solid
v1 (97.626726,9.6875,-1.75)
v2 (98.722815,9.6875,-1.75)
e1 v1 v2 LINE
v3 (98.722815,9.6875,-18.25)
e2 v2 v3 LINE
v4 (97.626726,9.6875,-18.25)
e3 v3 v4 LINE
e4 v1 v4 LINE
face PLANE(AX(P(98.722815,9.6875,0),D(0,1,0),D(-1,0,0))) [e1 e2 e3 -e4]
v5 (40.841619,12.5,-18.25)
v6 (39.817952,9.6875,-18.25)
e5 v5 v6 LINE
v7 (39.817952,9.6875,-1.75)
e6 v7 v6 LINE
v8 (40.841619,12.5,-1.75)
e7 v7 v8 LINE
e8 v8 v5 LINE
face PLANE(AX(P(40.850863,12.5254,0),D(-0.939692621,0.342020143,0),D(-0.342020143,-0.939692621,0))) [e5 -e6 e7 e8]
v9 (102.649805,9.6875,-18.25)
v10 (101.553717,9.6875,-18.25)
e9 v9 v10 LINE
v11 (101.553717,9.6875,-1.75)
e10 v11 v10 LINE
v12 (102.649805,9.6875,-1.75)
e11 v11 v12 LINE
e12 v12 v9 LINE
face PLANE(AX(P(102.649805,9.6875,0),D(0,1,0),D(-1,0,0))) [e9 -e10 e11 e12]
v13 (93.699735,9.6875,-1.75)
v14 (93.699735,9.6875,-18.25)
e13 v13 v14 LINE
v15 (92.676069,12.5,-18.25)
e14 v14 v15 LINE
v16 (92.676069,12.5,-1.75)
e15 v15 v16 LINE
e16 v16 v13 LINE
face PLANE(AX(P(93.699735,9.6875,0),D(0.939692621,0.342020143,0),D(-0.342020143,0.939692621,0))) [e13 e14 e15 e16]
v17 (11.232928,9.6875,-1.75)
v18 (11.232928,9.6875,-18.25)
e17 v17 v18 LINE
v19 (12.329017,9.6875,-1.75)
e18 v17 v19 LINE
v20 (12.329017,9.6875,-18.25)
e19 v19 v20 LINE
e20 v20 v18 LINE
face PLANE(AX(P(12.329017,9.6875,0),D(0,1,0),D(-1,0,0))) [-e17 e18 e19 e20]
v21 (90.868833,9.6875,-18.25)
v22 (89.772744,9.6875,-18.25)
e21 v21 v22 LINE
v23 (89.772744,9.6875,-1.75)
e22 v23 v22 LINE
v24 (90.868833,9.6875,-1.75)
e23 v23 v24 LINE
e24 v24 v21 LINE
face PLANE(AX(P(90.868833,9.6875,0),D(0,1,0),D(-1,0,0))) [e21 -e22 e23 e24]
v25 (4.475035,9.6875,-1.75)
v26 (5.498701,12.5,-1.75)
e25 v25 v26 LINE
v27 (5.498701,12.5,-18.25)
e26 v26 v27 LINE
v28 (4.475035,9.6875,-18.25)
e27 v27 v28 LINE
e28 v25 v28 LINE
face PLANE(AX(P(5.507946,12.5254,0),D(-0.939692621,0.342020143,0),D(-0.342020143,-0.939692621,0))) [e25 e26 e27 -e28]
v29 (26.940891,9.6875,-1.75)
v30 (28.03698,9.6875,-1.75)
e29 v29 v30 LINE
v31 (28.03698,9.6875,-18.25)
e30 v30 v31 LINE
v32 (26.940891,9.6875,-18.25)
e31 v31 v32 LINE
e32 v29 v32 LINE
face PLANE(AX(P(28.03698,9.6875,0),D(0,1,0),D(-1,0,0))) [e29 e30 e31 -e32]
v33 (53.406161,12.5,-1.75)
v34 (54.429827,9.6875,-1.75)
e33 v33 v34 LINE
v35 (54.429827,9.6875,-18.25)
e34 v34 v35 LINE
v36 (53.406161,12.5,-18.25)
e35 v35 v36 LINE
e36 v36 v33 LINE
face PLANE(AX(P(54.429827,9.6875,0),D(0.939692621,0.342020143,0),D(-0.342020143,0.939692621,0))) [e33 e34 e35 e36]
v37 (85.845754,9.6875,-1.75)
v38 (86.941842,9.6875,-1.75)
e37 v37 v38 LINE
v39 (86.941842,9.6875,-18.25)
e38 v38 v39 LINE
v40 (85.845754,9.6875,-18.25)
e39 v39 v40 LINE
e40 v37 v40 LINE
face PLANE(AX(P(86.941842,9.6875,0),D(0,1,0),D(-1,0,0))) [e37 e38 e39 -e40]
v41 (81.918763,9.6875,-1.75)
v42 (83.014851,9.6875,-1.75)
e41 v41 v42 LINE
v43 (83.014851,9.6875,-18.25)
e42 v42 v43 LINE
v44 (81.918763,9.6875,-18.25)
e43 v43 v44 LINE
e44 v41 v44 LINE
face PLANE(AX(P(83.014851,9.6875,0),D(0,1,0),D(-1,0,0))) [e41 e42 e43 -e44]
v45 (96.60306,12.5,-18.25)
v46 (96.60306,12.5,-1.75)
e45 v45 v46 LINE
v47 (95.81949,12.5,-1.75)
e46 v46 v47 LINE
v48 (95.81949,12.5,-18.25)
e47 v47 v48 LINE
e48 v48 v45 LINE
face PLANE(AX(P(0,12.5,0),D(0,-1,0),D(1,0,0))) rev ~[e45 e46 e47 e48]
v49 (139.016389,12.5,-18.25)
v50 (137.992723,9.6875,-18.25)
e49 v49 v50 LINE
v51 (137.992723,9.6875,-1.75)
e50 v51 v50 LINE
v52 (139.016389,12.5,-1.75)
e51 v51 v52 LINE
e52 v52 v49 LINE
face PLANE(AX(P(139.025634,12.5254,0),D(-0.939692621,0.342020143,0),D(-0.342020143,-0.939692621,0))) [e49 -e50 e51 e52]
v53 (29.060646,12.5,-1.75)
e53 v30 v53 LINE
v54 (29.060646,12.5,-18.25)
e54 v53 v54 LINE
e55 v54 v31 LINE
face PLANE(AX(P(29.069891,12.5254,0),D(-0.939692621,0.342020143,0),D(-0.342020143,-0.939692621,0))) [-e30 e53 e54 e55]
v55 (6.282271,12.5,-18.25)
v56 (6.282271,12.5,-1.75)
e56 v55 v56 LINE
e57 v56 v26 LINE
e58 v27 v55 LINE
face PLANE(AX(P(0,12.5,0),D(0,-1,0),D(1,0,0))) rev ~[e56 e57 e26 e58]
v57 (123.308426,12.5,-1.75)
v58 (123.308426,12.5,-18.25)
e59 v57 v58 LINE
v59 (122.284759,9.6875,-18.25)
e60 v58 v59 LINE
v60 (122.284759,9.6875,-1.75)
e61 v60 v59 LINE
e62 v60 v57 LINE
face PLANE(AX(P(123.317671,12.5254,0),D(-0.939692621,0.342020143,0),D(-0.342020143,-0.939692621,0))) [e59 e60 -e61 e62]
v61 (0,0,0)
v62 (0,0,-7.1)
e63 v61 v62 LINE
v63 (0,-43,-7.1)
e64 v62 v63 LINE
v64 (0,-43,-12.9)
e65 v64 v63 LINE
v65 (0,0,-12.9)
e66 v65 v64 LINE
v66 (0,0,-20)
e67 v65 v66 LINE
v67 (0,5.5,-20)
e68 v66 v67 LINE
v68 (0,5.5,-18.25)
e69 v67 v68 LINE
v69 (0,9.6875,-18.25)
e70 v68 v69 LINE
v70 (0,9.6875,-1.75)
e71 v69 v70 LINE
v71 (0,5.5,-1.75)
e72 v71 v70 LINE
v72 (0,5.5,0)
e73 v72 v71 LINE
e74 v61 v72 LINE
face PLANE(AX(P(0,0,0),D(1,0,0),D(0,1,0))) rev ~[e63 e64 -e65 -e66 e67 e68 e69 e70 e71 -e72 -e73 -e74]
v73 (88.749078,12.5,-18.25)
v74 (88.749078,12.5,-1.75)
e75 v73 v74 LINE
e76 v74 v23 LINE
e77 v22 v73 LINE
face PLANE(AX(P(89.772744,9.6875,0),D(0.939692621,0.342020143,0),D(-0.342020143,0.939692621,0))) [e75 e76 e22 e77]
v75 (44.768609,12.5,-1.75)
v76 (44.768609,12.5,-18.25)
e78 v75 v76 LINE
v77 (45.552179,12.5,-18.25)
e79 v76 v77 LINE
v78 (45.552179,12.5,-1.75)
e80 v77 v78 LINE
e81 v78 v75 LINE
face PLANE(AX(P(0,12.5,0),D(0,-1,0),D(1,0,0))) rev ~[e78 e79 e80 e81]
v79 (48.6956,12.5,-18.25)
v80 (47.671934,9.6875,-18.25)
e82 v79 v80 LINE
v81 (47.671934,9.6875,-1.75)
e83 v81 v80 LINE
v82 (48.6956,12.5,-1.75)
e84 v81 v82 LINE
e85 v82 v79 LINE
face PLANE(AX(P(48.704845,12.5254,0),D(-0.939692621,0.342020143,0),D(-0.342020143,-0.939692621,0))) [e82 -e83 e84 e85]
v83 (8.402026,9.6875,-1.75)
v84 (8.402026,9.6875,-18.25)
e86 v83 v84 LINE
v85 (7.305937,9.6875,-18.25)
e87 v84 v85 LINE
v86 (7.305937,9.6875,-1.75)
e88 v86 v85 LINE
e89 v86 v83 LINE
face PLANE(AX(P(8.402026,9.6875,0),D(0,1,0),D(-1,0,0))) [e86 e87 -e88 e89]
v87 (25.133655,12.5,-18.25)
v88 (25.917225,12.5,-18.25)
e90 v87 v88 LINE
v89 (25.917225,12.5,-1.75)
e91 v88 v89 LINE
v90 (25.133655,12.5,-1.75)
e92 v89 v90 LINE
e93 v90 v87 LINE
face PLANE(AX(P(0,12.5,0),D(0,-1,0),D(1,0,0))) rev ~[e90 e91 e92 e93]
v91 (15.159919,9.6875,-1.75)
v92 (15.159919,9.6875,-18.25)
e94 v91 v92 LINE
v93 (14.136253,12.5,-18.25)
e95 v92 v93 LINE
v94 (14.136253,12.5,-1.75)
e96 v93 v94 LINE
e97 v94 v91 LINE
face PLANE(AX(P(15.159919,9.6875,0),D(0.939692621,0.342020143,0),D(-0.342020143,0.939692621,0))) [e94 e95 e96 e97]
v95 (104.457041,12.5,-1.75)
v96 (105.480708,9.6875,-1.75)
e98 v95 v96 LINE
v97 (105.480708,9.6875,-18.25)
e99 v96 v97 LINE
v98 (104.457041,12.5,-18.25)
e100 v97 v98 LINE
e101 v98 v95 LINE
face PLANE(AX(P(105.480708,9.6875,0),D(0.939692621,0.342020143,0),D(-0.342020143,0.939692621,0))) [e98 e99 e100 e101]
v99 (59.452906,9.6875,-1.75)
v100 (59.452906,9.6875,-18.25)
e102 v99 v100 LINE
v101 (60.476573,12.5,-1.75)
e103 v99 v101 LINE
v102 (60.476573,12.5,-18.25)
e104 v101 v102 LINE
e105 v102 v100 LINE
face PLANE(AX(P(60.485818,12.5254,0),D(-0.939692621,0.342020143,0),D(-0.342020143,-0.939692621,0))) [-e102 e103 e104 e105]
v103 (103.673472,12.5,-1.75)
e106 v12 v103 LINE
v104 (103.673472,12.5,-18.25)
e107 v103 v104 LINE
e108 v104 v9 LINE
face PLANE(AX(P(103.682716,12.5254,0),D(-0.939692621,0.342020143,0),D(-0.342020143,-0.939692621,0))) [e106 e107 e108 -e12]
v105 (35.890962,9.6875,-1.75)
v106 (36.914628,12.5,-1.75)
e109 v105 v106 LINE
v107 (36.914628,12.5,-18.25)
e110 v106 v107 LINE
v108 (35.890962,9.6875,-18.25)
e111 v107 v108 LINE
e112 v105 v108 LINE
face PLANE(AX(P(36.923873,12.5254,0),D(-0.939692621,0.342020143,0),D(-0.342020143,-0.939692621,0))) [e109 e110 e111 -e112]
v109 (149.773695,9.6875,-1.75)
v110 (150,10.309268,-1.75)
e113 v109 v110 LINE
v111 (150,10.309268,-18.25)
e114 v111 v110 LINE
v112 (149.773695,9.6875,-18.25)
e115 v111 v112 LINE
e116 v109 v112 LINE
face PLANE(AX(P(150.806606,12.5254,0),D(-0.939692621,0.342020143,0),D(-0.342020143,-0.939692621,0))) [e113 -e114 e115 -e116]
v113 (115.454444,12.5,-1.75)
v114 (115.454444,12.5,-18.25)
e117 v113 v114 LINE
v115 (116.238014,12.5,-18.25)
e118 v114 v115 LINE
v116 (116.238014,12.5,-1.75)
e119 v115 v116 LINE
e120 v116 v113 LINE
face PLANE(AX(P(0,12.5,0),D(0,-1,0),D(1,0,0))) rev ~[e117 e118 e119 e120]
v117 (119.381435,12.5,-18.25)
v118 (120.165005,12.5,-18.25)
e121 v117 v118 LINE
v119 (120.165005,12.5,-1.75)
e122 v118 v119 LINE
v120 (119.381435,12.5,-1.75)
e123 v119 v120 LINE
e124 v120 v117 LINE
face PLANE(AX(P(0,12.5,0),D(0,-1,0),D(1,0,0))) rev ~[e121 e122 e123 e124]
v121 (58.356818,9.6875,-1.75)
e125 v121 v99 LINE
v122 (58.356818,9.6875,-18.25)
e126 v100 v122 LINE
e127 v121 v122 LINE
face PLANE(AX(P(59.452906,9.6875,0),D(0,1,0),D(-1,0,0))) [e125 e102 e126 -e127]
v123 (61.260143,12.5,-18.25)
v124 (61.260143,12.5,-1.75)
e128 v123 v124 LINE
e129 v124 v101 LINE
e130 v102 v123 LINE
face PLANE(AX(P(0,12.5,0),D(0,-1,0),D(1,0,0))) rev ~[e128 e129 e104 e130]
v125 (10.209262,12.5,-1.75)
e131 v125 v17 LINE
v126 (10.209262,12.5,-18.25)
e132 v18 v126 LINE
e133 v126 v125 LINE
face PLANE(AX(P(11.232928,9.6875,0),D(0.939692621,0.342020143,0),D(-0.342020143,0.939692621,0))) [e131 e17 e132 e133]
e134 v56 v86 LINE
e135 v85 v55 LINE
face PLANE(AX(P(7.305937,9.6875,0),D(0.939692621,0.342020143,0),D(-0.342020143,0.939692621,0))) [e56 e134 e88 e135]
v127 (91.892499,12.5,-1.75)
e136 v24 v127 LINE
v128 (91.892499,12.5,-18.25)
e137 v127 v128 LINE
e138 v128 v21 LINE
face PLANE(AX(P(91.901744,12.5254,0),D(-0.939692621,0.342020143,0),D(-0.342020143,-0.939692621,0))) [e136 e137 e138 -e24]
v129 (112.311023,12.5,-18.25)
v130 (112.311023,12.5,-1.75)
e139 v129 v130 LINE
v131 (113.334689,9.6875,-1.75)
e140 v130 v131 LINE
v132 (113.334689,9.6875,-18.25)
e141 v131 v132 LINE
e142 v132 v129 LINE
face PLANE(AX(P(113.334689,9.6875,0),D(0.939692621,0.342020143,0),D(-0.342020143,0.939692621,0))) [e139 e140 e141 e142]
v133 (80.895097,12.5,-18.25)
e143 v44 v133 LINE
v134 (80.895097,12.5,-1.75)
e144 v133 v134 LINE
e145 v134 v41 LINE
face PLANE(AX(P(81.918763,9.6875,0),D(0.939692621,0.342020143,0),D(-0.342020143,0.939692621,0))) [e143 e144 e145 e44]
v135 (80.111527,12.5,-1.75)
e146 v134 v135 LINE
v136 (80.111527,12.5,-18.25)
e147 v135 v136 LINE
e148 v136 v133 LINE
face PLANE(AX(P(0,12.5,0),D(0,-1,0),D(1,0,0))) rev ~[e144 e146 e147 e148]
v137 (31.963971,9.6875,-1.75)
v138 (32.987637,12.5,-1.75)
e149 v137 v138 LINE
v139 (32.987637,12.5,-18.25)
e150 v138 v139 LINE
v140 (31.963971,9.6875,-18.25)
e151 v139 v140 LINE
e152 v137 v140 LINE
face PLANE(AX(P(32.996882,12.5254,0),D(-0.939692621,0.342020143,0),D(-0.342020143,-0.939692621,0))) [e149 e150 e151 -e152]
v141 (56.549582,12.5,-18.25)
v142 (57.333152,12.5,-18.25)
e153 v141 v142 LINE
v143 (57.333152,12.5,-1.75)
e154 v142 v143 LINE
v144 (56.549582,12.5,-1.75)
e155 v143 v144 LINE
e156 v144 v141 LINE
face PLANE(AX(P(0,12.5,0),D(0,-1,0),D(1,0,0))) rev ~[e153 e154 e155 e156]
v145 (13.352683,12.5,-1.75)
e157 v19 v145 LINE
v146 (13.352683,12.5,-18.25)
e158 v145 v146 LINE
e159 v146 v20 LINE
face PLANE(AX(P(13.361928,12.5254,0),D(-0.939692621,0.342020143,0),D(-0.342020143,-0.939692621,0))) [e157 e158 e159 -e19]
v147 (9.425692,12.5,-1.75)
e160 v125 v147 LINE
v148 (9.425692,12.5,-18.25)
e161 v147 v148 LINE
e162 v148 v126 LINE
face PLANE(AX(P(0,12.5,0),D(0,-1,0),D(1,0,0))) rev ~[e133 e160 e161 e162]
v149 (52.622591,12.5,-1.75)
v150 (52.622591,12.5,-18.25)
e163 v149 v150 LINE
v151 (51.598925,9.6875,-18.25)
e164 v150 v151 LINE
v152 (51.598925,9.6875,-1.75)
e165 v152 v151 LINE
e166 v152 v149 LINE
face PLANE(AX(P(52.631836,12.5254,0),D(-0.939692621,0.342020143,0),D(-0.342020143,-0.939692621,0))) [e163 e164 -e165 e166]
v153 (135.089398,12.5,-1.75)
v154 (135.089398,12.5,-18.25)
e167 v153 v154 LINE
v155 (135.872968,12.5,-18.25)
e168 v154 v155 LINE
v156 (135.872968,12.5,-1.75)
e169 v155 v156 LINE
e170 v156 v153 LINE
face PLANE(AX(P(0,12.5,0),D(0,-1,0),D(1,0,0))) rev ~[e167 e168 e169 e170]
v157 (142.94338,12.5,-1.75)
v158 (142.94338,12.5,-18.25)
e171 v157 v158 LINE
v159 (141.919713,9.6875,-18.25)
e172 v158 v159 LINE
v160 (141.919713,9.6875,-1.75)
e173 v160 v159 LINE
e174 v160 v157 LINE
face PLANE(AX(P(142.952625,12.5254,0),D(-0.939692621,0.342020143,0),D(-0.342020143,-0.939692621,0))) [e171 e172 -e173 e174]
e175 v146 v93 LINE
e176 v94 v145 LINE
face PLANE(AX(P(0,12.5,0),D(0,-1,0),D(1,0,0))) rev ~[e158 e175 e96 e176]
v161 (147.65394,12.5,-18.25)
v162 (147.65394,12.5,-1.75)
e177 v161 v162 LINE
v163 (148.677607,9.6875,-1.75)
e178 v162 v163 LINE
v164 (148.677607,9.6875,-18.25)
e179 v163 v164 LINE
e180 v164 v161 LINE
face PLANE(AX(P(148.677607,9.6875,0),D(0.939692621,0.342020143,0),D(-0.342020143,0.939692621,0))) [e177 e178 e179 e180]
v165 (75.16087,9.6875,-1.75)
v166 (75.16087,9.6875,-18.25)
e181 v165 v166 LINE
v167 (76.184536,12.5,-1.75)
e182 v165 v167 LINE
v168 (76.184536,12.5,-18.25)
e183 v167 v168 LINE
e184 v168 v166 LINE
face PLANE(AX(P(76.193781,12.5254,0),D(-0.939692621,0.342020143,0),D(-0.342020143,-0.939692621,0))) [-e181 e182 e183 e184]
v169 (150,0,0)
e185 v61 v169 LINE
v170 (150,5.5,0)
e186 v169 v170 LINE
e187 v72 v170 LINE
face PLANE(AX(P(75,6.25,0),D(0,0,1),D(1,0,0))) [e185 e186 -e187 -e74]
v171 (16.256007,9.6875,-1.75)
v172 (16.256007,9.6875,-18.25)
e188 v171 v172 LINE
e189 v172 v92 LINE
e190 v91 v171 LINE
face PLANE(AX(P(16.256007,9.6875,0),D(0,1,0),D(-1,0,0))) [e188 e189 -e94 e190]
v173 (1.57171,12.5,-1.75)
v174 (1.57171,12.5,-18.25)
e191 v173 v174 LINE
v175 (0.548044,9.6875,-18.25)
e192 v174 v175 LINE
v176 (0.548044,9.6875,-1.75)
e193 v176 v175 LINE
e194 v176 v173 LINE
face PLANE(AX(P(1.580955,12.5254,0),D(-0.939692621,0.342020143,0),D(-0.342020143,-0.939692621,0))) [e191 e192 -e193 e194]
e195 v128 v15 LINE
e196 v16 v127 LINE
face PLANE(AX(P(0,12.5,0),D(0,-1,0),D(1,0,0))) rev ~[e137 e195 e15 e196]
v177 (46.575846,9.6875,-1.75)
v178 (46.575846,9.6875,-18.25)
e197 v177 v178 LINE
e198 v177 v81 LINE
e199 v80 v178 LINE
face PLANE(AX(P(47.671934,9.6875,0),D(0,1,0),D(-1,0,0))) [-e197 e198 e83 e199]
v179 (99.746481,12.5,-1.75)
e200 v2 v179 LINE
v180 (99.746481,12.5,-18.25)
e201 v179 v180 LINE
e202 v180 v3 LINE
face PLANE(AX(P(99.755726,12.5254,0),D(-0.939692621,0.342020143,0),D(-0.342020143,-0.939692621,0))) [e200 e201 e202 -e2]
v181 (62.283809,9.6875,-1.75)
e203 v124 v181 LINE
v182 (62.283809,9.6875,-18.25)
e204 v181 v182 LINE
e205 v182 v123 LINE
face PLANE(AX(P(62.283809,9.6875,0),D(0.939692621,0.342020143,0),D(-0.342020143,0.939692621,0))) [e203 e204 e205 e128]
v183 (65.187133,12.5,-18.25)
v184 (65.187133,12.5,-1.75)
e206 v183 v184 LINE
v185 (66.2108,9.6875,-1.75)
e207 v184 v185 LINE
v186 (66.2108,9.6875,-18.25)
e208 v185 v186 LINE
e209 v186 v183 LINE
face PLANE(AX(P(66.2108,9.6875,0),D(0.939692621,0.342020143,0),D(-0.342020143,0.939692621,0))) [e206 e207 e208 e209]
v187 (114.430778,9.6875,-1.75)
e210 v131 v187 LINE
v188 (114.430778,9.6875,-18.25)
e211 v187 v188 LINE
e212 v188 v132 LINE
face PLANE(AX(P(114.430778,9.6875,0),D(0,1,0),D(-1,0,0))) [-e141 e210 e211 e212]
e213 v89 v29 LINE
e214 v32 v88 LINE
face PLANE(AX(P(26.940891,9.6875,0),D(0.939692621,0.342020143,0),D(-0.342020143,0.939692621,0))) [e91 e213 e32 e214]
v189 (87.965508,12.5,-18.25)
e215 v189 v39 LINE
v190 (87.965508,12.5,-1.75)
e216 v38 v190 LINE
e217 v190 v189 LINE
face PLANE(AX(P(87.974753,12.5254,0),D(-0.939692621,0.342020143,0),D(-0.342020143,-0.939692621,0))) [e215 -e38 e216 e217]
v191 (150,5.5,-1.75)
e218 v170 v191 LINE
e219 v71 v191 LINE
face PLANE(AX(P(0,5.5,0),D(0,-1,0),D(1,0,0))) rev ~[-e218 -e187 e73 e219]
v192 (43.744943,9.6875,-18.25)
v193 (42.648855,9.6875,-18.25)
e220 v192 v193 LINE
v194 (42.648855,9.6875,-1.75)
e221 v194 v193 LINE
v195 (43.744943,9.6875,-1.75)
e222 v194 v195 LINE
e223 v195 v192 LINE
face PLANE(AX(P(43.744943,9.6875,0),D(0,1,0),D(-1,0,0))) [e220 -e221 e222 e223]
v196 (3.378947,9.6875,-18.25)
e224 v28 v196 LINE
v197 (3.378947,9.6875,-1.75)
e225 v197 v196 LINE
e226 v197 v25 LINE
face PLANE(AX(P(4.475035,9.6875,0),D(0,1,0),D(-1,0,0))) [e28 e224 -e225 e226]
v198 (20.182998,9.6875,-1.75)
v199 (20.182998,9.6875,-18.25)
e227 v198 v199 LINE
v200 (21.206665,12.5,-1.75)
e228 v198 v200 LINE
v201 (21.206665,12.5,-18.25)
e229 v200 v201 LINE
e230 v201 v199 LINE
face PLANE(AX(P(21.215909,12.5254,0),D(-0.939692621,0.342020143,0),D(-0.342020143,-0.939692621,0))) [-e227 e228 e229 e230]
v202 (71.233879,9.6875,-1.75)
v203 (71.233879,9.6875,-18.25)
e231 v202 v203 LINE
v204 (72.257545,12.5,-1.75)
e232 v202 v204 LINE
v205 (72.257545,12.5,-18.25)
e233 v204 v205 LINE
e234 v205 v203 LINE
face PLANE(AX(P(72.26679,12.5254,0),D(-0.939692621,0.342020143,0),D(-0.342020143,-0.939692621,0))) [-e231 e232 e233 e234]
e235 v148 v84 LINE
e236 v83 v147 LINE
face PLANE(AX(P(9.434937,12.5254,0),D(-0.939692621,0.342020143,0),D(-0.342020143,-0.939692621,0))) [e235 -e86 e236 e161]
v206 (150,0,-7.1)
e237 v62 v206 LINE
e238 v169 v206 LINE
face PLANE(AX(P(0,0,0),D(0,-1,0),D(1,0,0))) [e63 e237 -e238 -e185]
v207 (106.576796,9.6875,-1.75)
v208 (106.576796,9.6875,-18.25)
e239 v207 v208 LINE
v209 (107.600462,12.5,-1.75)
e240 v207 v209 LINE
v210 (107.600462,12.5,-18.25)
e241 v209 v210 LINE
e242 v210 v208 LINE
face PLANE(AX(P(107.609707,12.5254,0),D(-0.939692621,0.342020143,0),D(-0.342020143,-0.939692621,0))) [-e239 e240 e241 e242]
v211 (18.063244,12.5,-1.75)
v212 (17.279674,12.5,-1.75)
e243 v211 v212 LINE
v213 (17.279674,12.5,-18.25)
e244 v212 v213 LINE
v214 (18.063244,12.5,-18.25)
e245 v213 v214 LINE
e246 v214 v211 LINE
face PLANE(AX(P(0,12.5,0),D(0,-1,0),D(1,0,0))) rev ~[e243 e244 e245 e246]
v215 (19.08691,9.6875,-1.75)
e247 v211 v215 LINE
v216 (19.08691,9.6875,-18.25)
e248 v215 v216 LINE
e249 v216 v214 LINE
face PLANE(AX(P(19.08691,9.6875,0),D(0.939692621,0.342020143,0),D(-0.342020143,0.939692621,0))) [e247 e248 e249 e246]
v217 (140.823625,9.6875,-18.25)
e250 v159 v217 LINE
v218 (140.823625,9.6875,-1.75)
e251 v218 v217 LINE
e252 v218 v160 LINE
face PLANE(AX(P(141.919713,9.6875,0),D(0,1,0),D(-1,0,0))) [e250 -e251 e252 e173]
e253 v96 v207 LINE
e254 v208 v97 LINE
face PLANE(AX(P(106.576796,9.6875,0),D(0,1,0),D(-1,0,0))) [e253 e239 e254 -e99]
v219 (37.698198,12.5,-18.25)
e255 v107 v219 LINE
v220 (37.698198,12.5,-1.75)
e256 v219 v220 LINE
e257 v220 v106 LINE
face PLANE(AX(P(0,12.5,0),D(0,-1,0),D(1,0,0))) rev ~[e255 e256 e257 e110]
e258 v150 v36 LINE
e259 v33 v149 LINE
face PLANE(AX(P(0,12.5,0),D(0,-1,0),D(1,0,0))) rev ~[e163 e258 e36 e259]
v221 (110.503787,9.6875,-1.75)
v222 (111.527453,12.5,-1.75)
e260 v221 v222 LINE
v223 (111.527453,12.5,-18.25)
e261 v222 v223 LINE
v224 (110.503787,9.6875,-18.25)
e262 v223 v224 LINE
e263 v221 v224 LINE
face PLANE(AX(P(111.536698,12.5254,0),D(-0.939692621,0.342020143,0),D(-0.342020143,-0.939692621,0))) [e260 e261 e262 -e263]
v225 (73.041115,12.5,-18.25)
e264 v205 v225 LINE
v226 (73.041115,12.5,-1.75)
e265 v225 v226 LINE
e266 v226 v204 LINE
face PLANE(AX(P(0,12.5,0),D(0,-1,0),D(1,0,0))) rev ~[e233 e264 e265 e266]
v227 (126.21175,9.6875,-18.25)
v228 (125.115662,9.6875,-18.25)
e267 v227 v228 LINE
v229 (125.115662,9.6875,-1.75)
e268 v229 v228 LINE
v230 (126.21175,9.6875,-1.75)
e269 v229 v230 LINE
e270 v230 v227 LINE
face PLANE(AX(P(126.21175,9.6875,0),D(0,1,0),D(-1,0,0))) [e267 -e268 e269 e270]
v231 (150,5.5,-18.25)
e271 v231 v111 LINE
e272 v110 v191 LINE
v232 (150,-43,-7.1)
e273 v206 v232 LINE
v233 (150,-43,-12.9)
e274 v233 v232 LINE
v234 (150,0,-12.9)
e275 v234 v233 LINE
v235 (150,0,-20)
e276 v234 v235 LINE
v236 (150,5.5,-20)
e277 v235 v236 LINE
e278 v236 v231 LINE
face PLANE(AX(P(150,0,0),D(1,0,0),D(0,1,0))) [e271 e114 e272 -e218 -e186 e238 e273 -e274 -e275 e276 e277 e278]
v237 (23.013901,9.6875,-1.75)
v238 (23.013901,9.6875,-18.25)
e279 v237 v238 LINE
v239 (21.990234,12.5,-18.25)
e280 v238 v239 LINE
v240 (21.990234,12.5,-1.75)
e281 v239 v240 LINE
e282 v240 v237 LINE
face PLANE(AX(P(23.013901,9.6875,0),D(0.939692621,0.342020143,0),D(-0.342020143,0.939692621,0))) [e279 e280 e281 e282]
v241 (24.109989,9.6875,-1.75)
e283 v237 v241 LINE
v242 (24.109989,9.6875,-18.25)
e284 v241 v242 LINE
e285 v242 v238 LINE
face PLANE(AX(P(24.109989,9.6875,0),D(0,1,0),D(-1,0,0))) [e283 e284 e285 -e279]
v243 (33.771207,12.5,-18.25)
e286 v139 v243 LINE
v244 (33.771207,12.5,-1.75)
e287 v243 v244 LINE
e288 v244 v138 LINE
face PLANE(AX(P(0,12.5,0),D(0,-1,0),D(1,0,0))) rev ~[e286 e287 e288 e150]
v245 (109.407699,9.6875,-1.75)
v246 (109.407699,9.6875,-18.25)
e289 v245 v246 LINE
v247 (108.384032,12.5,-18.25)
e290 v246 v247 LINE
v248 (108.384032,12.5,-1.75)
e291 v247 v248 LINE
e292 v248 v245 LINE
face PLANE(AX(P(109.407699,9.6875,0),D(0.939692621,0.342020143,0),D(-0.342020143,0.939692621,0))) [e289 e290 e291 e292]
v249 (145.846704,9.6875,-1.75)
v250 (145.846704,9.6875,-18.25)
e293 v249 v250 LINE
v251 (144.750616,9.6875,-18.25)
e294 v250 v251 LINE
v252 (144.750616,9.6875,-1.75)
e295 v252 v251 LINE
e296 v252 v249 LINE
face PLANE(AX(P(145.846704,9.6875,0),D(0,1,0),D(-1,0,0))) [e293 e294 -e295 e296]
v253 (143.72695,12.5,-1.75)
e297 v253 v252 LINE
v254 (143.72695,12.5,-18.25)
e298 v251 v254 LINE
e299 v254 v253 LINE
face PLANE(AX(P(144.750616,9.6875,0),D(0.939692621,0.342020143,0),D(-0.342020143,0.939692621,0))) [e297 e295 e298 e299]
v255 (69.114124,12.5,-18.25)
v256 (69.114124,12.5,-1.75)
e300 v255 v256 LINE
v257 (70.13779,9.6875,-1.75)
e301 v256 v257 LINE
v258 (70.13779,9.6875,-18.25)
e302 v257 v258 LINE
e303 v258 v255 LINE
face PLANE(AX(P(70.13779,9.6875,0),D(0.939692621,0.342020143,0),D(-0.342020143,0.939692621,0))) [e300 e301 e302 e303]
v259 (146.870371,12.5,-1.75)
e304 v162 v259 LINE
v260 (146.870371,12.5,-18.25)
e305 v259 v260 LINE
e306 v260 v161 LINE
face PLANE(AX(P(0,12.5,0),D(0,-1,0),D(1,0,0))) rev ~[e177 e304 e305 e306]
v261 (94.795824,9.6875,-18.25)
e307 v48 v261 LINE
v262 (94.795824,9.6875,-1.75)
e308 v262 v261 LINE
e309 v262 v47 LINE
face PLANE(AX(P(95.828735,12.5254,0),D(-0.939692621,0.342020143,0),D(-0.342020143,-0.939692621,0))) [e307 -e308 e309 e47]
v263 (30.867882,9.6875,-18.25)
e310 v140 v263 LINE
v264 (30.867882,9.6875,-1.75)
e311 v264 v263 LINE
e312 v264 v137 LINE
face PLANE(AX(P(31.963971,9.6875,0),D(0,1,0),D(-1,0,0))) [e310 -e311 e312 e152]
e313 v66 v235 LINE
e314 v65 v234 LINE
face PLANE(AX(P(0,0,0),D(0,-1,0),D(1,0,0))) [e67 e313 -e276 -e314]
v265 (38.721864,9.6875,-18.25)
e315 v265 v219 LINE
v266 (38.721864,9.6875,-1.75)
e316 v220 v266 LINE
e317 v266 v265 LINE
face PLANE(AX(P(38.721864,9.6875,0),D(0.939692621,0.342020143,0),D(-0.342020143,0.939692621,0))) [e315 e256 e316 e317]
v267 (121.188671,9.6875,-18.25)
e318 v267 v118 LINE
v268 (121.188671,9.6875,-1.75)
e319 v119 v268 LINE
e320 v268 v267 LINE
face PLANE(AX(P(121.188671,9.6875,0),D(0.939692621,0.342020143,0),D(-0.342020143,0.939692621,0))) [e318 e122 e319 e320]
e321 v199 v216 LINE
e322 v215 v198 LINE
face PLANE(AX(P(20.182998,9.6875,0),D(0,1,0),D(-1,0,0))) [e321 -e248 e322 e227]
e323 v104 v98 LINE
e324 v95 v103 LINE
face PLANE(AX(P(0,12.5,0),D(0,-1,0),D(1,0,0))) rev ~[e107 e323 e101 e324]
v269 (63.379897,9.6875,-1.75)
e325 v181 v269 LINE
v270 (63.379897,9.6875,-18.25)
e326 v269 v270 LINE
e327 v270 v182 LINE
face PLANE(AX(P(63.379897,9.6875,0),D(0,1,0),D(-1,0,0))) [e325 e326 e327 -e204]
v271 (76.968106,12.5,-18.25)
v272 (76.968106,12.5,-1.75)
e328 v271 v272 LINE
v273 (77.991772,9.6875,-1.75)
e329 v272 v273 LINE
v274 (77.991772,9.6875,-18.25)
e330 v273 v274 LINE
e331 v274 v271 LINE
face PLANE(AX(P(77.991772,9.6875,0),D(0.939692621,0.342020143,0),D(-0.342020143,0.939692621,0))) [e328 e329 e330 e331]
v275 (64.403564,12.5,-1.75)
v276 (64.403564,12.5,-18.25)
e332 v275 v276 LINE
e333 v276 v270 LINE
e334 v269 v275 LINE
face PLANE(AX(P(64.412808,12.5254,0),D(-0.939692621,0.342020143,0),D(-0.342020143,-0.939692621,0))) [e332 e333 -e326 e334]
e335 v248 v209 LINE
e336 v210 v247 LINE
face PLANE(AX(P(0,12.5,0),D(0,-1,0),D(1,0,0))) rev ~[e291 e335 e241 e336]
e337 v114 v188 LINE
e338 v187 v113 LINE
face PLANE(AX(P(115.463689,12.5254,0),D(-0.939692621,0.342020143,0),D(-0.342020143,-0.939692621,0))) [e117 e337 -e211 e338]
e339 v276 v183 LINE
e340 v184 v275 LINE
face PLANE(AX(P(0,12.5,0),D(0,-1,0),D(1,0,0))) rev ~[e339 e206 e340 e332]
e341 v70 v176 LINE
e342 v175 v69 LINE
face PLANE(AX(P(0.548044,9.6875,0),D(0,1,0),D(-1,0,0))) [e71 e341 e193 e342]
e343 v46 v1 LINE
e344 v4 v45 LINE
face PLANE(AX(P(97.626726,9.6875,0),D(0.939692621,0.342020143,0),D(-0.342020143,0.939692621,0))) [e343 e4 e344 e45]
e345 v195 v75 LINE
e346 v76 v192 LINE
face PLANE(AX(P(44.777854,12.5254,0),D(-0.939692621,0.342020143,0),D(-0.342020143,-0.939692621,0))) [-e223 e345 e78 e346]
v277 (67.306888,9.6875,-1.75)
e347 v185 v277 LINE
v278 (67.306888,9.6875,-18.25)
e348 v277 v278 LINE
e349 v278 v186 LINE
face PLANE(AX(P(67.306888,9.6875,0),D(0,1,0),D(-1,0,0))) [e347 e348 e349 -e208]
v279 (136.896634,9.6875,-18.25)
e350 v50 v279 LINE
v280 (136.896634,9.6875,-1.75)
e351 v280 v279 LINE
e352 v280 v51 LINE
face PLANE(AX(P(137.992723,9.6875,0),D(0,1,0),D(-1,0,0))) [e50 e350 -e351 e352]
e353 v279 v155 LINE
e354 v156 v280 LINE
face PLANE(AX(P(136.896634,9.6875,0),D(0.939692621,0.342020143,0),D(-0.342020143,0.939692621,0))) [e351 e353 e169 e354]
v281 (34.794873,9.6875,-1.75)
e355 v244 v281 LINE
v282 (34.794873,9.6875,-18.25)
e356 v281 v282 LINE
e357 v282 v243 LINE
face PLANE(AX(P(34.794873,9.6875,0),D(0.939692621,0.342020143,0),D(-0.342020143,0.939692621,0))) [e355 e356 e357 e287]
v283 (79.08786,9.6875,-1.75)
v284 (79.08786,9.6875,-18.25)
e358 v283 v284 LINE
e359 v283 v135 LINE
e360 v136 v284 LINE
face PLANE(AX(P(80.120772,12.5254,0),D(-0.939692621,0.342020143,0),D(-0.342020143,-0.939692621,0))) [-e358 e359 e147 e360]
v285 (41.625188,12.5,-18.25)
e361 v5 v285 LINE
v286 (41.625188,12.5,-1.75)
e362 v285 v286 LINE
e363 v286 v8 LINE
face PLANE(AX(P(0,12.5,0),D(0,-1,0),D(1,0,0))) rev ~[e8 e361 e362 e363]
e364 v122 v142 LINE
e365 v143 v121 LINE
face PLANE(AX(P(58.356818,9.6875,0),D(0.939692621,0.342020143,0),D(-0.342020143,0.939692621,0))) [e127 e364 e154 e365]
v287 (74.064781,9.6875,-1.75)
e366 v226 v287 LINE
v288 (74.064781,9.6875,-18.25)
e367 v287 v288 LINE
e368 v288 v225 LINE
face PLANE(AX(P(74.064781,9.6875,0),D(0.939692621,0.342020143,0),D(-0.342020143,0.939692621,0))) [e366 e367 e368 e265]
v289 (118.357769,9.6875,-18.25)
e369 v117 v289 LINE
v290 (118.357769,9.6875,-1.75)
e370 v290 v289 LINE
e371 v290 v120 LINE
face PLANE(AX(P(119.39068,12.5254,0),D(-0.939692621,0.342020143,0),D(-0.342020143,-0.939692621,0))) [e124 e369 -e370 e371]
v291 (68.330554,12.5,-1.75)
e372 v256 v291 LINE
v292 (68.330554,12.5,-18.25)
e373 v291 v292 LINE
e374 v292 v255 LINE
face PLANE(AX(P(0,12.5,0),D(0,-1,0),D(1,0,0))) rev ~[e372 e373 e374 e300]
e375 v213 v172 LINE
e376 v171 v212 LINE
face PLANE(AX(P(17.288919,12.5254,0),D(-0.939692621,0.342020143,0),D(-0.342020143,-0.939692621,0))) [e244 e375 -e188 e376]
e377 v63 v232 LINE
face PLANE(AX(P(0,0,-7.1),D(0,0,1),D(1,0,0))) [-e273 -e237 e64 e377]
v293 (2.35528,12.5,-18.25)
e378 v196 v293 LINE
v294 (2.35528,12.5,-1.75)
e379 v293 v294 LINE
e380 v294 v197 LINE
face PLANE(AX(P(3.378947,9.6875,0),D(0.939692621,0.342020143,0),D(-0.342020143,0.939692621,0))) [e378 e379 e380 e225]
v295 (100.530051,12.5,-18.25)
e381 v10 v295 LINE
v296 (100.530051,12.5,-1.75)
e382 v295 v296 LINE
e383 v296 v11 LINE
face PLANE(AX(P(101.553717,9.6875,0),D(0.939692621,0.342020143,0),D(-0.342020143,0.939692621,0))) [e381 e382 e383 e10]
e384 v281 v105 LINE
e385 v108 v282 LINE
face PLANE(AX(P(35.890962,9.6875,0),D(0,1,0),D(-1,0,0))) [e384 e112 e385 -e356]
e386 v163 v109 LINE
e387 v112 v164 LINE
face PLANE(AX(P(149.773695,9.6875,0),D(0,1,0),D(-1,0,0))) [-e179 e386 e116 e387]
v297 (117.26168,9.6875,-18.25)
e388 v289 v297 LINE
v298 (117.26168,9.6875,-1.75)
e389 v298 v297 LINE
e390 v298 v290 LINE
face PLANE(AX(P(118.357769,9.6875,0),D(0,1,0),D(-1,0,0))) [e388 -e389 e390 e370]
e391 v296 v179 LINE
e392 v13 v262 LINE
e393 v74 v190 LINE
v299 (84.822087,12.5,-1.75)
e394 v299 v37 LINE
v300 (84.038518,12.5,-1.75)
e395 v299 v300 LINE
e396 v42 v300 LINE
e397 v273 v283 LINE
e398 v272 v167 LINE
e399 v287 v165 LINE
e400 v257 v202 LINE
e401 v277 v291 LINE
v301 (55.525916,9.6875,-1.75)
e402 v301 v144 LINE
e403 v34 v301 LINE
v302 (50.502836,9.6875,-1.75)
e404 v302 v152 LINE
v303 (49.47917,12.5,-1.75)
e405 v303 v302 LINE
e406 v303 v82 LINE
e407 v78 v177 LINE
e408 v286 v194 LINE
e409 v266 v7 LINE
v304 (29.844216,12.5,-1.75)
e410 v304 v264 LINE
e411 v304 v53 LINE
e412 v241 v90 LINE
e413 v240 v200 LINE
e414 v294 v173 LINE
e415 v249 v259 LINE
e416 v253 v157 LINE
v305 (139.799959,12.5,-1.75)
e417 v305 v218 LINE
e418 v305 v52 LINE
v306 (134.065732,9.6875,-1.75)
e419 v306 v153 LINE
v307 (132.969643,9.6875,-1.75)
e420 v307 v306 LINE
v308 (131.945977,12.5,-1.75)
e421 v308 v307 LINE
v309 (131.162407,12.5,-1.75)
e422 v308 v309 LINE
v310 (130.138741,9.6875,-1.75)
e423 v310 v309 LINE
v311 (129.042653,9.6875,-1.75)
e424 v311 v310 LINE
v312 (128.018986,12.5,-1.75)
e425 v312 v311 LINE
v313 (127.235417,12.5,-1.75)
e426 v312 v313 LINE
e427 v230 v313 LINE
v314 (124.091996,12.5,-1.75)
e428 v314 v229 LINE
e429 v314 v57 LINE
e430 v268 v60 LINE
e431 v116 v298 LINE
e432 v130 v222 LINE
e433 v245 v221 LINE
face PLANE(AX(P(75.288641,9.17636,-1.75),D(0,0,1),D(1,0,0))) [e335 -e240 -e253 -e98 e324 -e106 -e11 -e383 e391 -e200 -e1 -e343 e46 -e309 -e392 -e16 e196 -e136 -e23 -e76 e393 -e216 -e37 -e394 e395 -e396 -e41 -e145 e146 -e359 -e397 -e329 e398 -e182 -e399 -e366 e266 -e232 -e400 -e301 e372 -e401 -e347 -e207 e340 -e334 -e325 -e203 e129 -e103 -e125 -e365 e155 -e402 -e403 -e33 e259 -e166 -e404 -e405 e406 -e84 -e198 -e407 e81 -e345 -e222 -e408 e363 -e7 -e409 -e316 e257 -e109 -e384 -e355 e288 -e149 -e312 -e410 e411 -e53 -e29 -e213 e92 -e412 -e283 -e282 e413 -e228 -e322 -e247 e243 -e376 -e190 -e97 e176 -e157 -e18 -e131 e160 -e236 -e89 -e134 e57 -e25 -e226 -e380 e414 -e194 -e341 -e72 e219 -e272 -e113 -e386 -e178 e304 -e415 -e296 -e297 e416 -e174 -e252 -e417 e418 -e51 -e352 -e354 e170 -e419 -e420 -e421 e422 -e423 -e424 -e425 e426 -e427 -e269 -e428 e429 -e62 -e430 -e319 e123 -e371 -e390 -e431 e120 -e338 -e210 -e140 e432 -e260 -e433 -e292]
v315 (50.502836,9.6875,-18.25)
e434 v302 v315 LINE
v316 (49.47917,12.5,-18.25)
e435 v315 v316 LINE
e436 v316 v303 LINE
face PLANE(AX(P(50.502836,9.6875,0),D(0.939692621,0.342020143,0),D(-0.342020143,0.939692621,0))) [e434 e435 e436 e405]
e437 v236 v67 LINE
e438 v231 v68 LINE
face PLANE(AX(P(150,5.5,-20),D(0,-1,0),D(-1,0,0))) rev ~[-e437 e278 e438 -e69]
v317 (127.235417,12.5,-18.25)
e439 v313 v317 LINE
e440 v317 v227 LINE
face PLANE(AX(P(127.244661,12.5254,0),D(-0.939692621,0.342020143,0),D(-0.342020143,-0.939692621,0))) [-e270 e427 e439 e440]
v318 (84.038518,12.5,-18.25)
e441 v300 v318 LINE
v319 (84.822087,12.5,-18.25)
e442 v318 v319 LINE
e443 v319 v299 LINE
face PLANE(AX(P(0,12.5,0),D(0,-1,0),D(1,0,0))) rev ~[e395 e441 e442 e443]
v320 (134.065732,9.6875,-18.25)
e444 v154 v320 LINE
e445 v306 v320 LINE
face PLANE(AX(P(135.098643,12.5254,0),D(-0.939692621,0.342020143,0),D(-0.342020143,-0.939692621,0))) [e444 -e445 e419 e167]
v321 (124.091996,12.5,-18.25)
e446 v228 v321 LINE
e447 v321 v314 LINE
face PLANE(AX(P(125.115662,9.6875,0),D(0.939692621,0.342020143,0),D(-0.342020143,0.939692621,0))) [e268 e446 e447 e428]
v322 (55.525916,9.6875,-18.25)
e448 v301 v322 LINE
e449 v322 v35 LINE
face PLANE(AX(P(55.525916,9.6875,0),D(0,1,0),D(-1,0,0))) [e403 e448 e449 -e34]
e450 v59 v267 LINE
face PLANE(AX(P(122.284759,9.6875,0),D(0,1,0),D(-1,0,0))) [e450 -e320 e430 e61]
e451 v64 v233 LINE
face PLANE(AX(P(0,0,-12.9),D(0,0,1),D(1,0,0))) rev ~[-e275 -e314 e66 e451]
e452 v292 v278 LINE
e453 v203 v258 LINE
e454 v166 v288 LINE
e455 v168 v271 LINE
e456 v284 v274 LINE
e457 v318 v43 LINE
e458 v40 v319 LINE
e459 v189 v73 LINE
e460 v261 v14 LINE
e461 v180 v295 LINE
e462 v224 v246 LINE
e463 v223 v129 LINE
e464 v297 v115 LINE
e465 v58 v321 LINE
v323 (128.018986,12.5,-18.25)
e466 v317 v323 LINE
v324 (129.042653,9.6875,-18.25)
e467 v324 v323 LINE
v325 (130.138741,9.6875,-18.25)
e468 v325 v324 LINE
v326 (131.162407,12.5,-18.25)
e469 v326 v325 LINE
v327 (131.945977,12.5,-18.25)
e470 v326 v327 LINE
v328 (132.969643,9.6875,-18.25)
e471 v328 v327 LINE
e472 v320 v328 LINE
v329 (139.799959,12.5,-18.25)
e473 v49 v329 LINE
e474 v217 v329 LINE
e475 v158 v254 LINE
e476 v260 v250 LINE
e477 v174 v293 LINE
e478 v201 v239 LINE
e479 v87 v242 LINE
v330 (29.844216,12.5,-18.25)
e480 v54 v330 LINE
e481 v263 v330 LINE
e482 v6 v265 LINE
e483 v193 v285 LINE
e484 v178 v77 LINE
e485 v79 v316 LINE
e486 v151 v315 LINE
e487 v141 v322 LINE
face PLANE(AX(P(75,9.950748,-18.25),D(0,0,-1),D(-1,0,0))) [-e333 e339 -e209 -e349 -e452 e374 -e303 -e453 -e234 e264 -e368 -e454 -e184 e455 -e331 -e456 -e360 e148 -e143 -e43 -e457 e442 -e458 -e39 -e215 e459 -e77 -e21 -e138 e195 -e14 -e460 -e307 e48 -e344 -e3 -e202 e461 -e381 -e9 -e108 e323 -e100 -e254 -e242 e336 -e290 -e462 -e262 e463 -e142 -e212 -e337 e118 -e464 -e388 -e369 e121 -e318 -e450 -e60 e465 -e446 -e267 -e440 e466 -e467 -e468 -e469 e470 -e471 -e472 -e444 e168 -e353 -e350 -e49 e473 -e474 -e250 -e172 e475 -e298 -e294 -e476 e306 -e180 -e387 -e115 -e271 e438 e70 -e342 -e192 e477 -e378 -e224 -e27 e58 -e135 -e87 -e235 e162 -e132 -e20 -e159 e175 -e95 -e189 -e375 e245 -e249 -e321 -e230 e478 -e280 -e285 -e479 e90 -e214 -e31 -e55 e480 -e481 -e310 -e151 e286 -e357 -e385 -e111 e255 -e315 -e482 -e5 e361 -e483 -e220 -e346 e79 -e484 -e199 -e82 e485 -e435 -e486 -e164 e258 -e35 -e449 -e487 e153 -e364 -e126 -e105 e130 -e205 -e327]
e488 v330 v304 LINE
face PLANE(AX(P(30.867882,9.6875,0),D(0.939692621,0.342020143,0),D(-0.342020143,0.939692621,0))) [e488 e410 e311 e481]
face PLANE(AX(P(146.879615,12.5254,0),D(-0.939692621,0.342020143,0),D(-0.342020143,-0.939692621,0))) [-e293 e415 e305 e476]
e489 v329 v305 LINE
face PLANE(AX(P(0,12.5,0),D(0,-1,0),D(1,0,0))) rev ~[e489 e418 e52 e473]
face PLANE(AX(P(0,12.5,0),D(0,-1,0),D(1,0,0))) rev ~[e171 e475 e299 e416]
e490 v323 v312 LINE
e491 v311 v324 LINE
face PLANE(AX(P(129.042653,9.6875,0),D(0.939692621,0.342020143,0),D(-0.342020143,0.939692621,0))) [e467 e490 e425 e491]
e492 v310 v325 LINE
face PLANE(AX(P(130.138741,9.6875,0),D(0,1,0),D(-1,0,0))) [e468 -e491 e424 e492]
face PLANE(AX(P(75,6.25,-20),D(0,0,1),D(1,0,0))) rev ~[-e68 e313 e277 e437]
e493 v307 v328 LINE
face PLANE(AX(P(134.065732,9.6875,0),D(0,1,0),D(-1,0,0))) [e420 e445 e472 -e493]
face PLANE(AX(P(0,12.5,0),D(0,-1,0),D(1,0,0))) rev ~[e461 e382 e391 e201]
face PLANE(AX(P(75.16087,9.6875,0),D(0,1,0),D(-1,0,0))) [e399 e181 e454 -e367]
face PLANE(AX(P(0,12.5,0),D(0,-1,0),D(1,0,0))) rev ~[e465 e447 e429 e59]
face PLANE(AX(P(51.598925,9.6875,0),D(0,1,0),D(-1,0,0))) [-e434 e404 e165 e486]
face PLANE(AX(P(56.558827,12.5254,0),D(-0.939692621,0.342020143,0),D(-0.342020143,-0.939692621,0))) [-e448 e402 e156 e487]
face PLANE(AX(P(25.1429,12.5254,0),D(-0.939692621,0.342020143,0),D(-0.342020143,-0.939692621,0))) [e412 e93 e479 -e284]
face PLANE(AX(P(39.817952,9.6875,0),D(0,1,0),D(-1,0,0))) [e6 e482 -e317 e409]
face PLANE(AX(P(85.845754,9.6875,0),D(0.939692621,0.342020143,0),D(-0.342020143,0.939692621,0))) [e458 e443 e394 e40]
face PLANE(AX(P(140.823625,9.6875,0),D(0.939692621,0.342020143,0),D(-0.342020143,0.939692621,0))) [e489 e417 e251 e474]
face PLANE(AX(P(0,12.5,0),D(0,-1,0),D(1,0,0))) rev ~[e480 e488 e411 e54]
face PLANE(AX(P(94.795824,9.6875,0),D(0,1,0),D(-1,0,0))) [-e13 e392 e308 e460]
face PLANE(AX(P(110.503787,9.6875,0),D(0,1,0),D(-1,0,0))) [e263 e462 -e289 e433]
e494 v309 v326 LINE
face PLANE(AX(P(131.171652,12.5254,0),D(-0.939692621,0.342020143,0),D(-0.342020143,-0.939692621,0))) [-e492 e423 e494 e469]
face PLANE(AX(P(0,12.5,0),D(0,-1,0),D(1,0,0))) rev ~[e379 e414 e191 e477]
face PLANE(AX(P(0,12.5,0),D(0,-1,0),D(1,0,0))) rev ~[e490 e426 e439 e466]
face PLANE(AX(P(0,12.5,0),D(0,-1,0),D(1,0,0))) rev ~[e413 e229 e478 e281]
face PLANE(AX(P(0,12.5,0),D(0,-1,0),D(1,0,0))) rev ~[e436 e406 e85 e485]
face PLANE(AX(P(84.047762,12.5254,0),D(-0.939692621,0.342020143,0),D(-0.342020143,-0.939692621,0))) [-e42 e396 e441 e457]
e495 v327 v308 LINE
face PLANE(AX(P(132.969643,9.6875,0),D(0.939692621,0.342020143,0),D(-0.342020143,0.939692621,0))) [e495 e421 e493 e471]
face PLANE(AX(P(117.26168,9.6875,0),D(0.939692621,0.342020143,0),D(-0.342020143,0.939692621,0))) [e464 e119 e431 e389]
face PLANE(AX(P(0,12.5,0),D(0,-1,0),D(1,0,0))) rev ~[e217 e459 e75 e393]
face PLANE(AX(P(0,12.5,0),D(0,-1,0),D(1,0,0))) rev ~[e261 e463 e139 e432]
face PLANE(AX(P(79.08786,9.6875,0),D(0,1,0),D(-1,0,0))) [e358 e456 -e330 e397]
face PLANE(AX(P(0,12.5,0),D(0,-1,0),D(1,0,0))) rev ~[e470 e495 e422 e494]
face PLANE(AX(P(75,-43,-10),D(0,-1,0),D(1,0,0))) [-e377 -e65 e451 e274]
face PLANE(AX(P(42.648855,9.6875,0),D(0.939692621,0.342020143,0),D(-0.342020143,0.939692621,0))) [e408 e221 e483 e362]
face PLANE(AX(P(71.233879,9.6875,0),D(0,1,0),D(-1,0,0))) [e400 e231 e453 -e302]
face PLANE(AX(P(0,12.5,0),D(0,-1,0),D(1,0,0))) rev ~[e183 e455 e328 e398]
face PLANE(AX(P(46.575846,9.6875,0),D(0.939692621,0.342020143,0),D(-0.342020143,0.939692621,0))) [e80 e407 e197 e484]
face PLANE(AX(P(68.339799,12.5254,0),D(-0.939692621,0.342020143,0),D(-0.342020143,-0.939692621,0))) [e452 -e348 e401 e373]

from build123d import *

# Parameters (mm, degrees)
BLANKSKE_W              = 150
BLANKSKE_H              = 12.5
BLANK_DEPTH             = 20
TOOTHCUTSIM_DEPTH       = 152.842846391
TEETHCUTS_COUNT         = 39
TEETHCUTS_PITCH         = 3.926990813
CROQUIS3_W              = 150.577281711
CROQUIS3_H              = 7.352719699
CORTAR_EXTRUIR1_DEPTH   = 1.75
CROQUIS4_W              = 150
CROQUIS4_H              = 8.901496228
CORTAR_EXTRUIR2_DEPTH   = 1.75
CROQUIS6_W              = 150
CROQUIS6_H              = 5.8
SALIENTE_EXTRUIR1_DEPTH = 43


with BuildPart() as part:
    # BlankSke → Blank (new body)
    with BuildSketch(Plane.XY):
        with Locations((75, 6.25)):
            Rectangle(BLANKSKE_W, BLANKSKE_H)
    extrude(amount=-BLANK_DEPTH)

    # TooCutSkeSim → ToothCutSim (cut, through all)
    with BuildSketch(Plane.XY):
        Polygon((0.548044212, 9.6875), (-0.548044212, 9.6875), (-1.58095534, 12.5254), (1.58095534, 12.5254), align=None)
    toothcutsim = extrude(amount=-TOOTHCUTSIM_DEPTH, mode=Mode.SUBTRACT)

    # TeethCuts: ToothCutSim ×39
    with Locations(*[(i * TEETHCUTS_PITCH, 0, 0) for i in range(1, TEETHCUTS_COUNT)]):
        add(toothcutsim, mode=Mode.SUBTRACT)

    # Croquis3 → Cortar-Extruir1 (cut)
    with BuildSketch(Plane.XY):
        with Locations((75.288640856, 9.17635985)):
            Rectangle(CROQUIS3_W, CROQUIS3_H)
    extrude(amount=-CORTAR_EXTRUIR1_DEPTH, mode=Mode.SUBTRACT)

    # Croquis4 → Cortar-Extruir2 (cut)
    with BuildSketch(Plane(origin=(0, 0, -20), x_dir=(-1, 0, 0), z_dir=(0, 0, -1))):
        with Locations((-75, 9.950748114)):
            Rectangle(CROQUIS4_W, CROQUIS4_H)
    extrude(amount=-CORTAR_EXTRUIR2_DEPTH, mode=Mode.SUBTRACT)

    # Croquis6 → Saliente-Extruir1 (add)
    with BuildSketch(Plane.XZ):
        with Locations((75, -10)):
            Rectangle(CROQUIS6_W, CROQUIS6_H)
    extrude(amount=SALIENTE_EXTRUIR1_DEPTH)


solid = part.part
